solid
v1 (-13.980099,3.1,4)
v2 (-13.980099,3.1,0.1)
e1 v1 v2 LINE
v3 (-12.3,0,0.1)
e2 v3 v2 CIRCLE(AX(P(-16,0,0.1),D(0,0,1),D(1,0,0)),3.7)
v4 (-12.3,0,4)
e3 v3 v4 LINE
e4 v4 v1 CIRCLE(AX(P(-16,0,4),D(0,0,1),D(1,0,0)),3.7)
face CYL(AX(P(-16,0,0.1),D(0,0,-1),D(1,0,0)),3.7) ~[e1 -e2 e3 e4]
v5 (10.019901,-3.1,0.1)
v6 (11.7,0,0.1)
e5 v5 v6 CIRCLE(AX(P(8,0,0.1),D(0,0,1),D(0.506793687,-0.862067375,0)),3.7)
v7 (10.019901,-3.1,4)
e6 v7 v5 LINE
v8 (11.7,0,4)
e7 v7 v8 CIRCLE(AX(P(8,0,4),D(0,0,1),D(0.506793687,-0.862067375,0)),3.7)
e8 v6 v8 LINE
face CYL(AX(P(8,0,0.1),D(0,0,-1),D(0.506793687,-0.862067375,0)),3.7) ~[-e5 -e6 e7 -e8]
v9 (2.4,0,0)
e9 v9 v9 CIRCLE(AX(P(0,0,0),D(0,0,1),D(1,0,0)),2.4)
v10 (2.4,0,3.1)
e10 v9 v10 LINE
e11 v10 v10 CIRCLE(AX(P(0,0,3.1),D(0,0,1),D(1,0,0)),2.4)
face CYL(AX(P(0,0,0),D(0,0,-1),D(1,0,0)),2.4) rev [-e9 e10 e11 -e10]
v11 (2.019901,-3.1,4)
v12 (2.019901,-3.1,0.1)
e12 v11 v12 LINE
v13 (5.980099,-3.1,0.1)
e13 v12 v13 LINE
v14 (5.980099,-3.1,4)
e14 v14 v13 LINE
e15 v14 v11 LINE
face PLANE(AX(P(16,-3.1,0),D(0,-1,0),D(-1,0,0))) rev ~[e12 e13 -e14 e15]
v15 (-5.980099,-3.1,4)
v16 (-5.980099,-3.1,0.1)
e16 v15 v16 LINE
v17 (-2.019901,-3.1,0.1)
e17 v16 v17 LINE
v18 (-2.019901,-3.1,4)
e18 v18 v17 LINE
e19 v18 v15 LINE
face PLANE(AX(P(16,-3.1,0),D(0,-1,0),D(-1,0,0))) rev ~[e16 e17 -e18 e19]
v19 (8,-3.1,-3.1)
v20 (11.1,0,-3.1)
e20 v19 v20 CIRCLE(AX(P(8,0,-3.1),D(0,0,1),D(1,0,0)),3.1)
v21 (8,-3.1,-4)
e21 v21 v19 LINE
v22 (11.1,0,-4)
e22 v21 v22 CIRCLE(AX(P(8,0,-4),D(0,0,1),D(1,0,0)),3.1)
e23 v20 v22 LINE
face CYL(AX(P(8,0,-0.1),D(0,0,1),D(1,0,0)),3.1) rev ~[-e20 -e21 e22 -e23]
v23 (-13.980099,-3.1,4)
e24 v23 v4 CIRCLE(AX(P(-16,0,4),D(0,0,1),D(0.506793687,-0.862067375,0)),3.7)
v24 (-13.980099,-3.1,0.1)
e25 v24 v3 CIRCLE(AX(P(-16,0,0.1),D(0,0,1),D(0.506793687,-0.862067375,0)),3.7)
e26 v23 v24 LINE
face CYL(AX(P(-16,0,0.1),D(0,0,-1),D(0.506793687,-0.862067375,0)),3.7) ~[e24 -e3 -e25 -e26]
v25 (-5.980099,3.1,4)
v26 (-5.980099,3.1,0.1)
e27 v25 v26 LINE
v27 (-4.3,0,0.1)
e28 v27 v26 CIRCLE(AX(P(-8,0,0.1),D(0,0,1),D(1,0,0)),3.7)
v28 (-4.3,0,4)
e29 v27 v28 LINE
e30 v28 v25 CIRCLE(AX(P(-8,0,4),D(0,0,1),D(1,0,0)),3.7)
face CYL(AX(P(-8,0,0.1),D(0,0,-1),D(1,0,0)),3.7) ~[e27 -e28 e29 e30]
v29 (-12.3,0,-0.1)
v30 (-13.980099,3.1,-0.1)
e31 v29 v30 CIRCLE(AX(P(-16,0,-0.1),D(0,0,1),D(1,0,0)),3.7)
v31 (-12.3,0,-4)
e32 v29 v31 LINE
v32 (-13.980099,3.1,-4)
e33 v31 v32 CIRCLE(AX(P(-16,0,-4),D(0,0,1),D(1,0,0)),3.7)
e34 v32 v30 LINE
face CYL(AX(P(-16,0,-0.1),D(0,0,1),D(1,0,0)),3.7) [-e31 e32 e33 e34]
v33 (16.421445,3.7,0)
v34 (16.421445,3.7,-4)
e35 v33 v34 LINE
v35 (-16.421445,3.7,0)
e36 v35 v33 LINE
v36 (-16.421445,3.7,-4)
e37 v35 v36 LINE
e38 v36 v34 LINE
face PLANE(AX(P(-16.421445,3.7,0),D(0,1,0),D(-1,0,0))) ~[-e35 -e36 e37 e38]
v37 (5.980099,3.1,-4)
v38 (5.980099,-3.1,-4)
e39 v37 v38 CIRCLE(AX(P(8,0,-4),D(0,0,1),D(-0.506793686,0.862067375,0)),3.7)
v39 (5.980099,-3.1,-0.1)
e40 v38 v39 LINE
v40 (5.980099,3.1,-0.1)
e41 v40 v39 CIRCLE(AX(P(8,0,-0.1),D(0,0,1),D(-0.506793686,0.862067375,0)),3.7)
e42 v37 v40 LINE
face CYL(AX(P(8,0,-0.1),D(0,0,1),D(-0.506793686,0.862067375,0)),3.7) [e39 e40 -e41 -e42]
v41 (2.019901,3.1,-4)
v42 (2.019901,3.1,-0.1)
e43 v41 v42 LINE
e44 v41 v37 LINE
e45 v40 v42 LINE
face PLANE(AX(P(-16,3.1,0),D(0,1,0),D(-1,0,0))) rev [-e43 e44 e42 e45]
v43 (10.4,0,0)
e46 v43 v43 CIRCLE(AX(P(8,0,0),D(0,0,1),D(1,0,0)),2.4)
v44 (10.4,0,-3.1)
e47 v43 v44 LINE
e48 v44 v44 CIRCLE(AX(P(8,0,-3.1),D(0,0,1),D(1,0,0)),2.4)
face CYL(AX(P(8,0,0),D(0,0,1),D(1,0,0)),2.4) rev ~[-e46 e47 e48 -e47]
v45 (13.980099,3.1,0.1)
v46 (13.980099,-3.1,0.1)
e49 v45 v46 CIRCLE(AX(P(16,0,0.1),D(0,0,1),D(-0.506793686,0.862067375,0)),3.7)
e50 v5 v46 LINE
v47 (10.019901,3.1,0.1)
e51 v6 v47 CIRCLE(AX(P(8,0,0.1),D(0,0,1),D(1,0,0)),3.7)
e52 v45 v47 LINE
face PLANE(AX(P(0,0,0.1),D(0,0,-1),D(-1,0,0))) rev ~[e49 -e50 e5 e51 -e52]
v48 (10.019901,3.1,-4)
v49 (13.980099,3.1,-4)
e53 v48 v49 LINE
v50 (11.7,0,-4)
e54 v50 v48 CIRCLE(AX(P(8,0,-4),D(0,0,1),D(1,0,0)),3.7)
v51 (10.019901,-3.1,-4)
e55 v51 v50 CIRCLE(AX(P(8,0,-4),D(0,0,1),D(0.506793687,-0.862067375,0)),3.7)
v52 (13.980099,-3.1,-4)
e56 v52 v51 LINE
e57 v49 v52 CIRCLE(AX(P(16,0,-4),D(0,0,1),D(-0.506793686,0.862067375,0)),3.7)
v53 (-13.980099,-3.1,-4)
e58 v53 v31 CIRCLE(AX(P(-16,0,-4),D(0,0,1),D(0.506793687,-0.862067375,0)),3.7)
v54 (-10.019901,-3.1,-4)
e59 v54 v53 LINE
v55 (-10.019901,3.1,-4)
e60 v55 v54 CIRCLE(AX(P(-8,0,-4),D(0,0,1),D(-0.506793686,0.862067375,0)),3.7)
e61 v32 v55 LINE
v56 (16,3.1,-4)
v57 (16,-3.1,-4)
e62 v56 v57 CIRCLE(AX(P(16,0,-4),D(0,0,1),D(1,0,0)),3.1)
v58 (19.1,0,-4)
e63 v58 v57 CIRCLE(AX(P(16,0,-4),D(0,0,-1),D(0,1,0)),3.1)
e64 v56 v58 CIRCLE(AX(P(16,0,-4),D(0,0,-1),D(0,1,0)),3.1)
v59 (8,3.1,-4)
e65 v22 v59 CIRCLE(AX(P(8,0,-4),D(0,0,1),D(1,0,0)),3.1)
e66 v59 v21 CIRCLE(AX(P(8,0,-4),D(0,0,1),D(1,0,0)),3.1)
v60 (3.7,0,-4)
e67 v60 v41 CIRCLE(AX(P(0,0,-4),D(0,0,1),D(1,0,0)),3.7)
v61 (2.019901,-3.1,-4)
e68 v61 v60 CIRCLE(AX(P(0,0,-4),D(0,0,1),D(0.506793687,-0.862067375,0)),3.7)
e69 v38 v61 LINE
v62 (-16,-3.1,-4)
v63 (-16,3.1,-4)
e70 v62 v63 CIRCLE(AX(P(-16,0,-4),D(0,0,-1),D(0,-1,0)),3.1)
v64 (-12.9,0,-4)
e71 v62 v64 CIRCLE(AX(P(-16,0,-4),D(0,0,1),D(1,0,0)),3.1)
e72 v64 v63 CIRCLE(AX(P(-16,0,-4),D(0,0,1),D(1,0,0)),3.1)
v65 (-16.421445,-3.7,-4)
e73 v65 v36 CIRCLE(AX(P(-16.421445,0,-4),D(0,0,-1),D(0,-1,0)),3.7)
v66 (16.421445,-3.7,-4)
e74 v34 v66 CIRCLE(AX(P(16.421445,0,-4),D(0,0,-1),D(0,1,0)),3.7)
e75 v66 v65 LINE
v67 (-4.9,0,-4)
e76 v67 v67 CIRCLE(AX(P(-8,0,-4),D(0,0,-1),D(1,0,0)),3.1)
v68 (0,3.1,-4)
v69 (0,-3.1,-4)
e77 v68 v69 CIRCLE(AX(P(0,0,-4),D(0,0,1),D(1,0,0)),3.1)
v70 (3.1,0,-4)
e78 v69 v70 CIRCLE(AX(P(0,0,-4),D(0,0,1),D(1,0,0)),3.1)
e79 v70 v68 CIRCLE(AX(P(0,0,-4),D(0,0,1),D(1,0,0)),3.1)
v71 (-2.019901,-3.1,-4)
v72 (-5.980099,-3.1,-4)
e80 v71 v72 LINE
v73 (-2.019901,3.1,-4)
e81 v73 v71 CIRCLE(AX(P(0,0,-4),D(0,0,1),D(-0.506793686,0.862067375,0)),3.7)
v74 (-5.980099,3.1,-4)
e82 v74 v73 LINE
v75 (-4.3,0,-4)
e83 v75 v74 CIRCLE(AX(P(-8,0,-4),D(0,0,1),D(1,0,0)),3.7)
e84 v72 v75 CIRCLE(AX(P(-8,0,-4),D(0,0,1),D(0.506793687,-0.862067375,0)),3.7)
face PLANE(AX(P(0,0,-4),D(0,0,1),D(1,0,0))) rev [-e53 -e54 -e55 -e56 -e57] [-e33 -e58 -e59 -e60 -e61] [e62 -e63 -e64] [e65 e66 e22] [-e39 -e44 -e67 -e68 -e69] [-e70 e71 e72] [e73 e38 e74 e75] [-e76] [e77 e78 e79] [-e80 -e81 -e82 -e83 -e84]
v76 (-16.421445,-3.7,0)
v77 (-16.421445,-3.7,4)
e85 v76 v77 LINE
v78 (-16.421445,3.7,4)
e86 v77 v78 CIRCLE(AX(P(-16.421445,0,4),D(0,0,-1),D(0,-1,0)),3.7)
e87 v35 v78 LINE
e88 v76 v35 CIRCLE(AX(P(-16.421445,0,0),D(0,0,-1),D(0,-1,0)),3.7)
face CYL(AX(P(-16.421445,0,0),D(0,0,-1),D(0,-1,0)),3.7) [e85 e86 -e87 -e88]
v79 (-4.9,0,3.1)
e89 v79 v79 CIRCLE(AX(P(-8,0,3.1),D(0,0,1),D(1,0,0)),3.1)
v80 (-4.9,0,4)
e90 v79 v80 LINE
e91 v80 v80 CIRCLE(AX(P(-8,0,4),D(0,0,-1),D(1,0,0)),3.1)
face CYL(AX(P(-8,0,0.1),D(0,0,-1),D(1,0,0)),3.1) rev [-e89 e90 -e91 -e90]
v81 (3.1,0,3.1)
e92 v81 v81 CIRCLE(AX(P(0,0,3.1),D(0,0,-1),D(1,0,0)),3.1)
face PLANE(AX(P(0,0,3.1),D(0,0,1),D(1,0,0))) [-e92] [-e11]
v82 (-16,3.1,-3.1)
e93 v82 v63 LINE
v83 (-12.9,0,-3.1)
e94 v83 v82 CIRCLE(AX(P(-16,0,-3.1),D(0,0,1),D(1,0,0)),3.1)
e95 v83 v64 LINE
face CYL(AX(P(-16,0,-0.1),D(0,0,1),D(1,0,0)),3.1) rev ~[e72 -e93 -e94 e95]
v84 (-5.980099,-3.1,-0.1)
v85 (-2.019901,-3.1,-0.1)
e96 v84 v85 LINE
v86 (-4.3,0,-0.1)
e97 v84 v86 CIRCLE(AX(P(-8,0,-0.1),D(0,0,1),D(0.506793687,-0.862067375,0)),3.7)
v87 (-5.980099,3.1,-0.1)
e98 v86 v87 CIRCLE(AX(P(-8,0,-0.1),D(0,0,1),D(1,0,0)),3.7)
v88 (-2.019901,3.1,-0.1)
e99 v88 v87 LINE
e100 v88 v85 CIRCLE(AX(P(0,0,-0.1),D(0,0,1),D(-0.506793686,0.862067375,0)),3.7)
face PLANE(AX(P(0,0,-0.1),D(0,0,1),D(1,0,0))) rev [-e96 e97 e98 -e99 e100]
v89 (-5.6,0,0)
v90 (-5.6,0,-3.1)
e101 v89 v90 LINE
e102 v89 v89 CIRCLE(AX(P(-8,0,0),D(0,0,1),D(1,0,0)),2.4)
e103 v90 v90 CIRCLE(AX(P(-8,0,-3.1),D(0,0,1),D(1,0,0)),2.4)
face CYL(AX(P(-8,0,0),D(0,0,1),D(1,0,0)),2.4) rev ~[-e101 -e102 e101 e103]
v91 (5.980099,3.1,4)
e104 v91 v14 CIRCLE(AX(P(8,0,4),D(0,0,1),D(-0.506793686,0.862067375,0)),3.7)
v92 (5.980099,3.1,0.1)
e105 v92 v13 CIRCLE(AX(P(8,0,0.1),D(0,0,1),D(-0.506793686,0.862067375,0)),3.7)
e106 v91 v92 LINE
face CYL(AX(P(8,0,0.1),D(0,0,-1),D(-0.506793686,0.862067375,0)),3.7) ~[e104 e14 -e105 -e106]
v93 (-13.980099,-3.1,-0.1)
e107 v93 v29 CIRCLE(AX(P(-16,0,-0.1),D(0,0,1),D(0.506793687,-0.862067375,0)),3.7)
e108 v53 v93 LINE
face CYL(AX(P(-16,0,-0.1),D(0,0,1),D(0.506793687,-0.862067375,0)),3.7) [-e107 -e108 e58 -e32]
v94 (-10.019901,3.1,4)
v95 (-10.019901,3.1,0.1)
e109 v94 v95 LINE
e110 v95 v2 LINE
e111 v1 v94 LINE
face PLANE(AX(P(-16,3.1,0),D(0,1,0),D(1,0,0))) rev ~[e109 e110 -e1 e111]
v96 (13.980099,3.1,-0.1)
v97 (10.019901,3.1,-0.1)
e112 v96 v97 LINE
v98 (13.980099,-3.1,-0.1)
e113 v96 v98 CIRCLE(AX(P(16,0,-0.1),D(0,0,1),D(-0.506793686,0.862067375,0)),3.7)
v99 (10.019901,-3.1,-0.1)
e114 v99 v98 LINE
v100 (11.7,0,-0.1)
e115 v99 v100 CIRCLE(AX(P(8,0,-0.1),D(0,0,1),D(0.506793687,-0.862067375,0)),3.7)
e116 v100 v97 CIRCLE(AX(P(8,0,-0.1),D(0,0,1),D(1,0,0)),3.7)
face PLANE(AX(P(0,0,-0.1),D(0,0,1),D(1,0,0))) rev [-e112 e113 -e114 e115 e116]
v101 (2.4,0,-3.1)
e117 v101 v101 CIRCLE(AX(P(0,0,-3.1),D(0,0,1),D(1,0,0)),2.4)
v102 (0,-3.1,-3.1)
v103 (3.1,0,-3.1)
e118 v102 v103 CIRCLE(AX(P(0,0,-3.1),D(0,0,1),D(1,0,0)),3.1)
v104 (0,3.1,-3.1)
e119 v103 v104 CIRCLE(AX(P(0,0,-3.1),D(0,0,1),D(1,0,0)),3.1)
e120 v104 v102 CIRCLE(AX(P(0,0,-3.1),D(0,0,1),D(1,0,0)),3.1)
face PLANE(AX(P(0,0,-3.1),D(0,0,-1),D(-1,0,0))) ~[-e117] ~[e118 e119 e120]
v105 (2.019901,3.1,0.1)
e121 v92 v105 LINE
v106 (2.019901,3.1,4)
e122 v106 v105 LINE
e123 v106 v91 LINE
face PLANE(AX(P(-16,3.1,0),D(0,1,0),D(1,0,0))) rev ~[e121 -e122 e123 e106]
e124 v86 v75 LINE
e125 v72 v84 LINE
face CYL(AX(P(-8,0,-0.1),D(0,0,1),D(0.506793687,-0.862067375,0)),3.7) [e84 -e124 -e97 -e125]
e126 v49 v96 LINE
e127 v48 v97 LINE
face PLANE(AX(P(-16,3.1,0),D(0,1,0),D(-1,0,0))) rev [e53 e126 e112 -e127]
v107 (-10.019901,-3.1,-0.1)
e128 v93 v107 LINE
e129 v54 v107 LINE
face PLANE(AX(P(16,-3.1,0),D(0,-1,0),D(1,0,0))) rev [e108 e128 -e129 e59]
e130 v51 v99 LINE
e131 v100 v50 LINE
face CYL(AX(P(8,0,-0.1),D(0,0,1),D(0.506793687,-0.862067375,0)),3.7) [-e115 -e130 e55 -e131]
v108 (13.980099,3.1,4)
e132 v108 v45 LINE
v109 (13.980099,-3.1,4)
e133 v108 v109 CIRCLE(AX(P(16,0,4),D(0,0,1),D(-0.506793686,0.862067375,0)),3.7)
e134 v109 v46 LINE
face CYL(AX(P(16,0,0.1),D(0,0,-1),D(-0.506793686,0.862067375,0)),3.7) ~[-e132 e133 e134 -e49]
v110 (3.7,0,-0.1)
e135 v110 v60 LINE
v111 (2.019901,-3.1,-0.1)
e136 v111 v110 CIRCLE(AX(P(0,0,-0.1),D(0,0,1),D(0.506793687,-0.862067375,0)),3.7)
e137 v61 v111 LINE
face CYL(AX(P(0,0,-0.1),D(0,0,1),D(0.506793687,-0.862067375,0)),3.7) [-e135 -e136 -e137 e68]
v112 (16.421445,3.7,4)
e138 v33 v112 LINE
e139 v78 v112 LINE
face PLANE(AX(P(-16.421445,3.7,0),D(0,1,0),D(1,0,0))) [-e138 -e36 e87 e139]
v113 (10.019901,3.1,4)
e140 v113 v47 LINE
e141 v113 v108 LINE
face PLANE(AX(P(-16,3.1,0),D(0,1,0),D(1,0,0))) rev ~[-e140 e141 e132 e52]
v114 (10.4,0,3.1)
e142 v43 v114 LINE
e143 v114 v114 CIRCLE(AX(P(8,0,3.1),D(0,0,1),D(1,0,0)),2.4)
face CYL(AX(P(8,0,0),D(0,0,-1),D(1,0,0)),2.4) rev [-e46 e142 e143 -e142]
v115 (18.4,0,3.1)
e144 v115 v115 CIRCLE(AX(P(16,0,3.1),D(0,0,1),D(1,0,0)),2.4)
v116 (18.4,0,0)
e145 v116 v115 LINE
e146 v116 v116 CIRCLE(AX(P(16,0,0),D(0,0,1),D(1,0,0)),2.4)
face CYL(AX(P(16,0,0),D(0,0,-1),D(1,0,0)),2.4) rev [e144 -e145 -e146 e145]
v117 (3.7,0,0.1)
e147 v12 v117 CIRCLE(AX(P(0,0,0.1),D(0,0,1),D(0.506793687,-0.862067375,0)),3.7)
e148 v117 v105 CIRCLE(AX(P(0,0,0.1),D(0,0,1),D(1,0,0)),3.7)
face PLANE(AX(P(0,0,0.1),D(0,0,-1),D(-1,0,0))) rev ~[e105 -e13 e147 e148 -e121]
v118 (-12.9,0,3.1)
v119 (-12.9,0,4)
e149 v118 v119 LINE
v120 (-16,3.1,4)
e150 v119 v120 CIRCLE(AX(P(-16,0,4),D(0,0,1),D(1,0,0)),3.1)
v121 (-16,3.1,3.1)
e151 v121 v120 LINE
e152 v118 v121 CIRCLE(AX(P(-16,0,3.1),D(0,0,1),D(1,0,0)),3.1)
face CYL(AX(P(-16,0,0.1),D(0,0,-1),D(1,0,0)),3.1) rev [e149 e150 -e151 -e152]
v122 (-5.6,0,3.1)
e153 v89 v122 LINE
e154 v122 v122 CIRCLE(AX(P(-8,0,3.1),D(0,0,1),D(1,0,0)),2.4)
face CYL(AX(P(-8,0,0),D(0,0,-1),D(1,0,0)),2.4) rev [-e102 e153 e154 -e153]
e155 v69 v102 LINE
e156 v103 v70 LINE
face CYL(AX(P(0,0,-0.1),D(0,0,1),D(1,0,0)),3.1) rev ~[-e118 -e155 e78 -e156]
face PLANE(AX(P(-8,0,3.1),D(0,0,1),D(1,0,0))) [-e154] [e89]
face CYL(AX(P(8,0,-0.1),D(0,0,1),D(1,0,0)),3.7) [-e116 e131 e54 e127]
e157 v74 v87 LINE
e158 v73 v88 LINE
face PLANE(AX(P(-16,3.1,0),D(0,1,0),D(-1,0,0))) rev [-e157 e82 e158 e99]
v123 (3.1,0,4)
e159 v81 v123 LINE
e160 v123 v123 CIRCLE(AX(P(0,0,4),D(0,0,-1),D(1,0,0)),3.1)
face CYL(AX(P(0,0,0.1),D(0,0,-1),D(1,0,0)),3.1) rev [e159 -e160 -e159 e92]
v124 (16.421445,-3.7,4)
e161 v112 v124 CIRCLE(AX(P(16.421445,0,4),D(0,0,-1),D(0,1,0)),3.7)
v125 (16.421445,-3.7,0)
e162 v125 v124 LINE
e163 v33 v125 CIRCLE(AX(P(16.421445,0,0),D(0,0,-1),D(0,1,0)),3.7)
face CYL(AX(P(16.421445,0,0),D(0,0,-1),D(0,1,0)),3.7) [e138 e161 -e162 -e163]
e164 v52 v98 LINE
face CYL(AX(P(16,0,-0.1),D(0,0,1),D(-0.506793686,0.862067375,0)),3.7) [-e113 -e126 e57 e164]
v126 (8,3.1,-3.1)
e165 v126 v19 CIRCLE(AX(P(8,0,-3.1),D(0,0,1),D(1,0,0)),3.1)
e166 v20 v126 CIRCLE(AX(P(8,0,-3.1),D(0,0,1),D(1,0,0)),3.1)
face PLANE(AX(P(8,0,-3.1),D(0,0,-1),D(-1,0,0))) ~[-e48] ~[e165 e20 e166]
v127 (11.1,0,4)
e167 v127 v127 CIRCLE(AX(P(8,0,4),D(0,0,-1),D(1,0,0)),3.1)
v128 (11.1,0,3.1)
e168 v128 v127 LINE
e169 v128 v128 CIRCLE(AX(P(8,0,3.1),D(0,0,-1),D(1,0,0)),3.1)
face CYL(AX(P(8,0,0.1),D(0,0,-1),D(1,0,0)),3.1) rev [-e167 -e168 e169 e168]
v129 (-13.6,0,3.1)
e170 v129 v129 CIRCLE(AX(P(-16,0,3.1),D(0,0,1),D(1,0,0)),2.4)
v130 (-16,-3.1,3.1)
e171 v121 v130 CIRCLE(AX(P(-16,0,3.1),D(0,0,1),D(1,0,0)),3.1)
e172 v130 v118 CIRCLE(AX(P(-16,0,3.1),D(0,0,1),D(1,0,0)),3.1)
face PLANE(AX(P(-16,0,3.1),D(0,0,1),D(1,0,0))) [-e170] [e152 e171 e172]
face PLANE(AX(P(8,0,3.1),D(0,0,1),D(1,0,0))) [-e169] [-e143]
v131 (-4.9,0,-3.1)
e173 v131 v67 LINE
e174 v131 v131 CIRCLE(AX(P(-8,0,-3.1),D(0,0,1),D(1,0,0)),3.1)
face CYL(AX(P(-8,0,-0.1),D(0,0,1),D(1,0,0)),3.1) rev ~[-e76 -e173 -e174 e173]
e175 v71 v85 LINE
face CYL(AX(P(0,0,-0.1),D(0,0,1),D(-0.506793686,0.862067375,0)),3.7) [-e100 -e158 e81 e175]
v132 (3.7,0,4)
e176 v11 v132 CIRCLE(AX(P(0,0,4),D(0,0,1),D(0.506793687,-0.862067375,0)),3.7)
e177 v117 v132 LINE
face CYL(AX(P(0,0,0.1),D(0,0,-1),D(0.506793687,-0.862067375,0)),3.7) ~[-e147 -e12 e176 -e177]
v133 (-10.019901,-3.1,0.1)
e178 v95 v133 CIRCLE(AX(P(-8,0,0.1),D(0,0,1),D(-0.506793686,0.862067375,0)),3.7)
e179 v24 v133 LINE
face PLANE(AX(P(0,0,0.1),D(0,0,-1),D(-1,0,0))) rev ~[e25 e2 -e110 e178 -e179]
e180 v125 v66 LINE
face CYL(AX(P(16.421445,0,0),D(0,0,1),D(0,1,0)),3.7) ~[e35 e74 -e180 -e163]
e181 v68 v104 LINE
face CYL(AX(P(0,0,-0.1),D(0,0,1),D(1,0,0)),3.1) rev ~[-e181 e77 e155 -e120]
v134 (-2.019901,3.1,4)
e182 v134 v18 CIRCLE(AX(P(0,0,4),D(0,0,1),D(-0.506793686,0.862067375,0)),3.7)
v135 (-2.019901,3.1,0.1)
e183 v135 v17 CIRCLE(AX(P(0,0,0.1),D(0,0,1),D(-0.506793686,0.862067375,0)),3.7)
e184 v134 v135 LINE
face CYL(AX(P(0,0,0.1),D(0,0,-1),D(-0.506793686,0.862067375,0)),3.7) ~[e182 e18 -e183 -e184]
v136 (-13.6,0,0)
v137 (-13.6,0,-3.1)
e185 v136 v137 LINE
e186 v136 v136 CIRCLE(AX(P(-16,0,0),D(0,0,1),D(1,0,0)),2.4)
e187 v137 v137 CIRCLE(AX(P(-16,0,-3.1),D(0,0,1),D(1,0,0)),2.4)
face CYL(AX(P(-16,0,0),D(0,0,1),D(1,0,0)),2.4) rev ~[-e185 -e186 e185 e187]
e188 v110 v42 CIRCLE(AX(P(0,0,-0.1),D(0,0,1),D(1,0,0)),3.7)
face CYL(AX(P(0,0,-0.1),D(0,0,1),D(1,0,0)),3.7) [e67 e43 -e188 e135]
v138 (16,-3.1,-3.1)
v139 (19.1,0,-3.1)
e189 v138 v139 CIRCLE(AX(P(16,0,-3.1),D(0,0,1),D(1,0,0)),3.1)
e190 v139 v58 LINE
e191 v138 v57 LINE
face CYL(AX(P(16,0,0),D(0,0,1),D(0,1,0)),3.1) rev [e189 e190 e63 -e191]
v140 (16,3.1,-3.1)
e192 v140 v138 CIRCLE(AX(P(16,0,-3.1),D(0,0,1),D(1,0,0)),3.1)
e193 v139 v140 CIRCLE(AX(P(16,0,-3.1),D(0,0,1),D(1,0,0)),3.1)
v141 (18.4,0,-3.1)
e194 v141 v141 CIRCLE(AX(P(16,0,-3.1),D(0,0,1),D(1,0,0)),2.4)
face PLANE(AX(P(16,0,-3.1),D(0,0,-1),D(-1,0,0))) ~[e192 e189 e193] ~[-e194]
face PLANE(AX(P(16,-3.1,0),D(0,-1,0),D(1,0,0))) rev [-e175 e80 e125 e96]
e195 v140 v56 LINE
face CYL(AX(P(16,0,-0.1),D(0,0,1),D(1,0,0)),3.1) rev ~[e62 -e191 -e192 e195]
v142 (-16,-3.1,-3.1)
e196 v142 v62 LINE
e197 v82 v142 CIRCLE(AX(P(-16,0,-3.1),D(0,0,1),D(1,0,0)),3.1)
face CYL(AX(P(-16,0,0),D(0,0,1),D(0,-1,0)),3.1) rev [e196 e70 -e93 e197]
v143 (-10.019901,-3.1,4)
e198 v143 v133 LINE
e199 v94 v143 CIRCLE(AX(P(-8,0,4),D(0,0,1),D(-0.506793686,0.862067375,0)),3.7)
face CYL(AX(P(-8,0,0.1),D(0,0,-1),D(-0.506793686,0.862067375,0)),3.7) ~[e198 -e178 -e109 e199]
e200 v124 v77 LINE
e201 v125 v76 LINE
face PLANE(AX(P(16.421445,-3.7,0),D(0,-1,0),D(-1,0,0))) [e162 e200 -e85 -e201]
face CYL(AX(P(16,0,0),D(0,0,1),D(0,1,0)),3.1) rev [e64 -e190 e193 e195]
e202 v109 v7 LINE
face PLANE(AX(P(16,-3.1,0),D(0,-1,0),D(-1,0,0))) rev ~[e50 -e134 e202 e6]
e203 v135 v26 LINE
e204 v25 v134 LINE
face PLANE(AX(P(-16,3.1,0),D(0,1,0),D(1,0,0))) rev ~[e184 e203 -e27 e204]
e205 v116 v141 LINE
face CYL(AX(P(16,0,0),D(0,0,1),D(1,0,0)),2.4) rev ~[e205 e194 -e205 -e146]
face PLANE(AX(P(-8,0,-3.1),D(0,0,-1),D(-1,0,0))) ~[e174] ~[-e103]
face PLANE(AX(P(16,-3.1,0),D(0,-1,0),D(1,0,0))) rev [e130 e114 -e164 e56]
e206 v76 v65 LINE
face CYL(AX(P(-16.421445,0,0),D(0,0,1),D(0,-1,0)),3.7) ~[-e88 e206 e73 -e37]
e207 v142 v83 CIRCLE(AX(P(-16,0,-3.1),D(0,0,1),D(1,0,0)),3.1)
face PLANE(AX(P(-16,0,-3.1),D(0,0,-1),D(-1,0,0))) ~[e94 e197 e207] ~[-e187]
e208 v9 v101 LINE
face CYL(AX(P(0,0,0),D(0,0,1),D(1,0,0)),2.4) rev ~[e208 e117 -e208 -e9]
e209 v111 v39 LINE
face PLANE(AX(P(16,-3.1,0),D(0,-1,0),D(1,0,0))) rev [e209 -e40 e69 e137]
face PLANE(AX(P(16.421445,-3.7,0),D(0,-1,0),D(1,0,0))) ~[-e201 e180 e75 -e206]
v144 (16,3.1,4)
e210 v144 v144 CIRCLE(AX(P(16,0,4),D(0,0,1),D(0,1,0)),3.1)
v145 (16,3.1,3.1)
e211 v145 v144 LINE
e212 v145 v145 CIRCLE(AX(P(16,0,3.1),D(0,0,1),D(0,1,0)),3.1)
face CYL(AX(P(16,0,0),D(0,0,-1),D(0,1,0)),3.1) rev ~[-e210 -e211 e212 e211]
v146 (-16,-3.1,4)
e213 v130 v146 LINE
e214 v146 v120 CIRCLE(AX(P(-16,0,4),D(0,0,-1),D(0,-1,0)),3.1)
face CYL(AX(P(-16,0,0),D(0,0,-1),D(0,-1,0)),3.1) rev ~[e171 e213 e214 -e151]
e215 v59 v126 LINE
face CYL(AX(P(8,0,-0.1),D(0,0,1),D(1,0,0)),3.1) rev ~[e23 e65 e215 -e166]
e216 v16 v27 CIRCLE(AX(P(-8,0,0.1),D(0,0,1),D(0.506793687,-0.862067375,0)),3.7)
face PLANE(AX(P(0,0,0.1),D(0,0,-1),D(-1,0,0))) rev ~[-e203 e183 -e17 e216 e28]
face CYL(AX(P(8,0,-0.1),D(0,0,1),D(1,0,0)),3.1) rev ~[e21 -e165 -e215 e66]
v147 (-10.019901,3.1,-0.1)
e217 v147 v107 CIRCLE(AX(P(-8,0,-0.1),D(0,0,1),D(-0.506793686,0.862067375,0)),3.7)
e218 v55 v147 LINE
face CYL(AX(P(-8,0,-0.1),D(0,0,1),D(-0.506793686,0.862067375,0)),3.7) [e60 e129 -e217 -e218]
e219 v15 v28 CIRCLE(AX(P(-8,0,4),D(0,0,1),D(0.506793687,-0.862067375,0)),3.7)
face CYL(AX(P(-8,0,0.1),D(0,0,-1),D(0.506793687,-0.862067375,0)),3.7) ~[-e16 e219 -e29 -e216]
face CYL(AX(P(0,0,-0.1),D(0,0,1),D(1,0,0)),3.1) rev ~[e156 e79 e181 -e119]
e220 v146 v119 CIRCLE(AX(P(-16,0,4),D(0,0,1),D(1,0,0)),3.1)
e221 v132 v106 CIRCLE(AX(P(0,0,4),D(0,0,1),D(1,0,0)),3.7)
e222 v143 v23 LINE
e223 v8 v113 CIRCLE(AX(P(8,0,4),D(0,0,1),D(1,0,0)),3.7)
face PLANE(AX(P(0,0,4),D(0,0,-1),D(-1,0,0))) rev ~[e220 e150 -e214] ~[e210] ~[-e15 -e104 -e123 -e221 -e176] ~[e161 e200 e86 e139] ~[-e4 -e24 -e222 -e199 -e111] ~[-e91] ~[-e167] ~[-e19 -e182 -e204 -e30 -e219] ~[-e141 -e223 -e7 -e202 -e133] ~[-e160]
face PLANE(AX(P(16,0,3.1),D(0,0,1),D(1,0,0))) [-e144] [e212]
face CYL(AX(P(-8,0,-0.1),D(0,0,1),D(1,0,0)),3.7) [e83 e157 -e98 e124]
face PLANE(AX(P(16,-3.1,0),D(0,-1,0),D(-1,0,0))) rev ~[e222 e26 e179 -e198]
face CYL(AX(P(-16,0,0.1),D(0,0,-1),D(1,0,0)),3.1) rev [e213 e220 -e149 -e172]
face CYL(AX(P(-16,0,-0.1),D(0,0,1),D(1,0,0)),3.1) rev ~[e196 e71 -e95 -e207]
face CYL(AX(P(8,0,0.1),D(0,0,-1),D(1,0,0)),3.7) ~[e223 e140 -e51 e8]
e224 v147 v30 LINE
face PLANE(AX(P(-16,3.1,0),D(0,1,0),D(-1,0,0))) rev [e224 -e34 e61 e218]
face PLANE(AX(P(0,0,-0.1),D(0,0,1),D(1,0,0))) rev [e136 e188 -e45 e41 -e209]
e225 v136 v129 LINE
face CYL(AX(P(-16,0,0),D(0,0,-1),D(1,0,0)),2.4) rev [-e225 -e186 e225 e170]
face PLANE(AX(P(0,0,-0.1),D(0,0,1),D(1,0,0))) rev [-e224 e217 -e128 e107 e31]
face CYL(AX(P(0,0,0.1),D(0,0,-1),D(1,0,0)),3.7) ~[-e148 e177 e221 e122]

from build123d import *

# Parameters (mm, degrees)
OUTER_SHAPE_DEPTH  = 4
MIDDLE_WALL_DEPTH  = 0.1
HOLES_R            = 3.1
OUTER_HOLE_DEPTH   = 3.9
SKETCH3_R          = 3.1
SKETCH3_R_2        = 2.4
INNER_HOLE_DEPTH   = 3.1
SKETCH4_R          = 2.4
THROUGH_HOLE_DEPTH = 5


with BuildPart() as part:
    # Sketch1 → Outer Shape (new body)
    with BuildSketch(Plane.XY):
        with BuildLine():
            Line((-16.421445021, 3.7), (16.421445021, 3.7))
            ThreePointArc((16.421445021, 3.7), (20.121445021, 0), (16.421445021, -3.7))
            Line((16.421445021, -3.7), (-16.421445021, -3.7))
            ThreePointArc((-16.421445021, -3.7), (-20.121445021, 0), (-16.421445021, 3.7))
        make_face()
        with BuildLine():
            Line((-16, 3.1), (16, 3.1))
            ThreePointArc((16, 3.1), (19.1, 0), (16, -3.1))
            Line((16, -3.1), (-16, -3.1))
            ThreePointArc((-16, -3.1), (-19.1, 0), (-16, 3.1))
        make_face(mode=Mode.SUBTRACT)
    extrude(amount=OUTER_SHAPE_DEPTH)



with BuildPart() as body_2:
    # Sketch2 → Middle wall (new body)
    with BuildSketch(Plane.XY):
        with BuildLine():
            Line((-15.918927506, 3.189649288), (15.918927506, 3.189649288))
            ThreePointArc((15.918927506, 3.189649288), (19.108576794, 0), (15.918927506, -3.189649288))
            Line((15.918927506, -3.189649288), (-15.918927506, -3.189649288))
            ThreePointArc((-15.918927506, -3.189649288), (-19.108576794, 0), (-15.918927506, 3.189649288))
        make_face()
    extrude(amount=MIDDLE_WALL_DEPTH)


with BuildPart() as part_1:
    add(part.part)

    add(body_2.part)  # Outer Hole merges body 2
    # Holes → Outer Hole (add)
    with BuildSketch(Plane.XY.offset(0.1)):
        with BuildLine():
            Line((-6.12486336, 3.189649288), (-9.87513664, 3.189649288))
            ThreePointArc((-9.87513664, 3.189649288), (-11.7, 0), (-9.87513664, -3.189649288))
            Line((-9.87513664, -3.189649288), (-6.12486336, -3.189649288))
            ThreePointArc((-6.12486336, -3.189649288), (-4.788457881, -1.837388695), (-4.3, 0))
            ThreePointArc((-4.3, 0), (-4.788457881, 1.837388695), (-6.12486336, 3.189649288))
        make_face()
        with Locations((-8, 0)):
            Circle(HOLES_R, mode=Mode.SUBTRACT)
        with BuildLine():
            ThreePointArc((-14.12486336, -3.189649288), (-12.788457881, -1.837388695), (-12.3, 0))
            ThreePointArc((-12.3, 0), (-12.788457881, 1.837388695), (-14.12486336, 3.189649288))
            Line((-14.12486336, 3.189649288), (-15.918927506, 3.189649288))
            ThreePointArc((-15.918927506, 3.189649288), (-19.108576794, 0), (-15.918927506, -3.189649288))
            Line((-15.918927506, -3.189649288), (-14.12486336, -3.189649288))
        make_face()
        with Locations((-16, 0)):
            Circle(HOLES_R, mode=Mode.SUBTRACT)
        with BuildLine():
            Line((1.87513664, 3.189649288), (-1.87513664, 3.189649288))
            ThreePointArc((-1.87513664, 3.189649288), (-3.7, 0), (-1.87513664, -3.189649288))
            Line((-1.87513664, -3.189649288), (1.87513664, -3.189649288))
            ThreePointArc((1.87513664, -3.189649288), (3.211542119, -1.837388695), (3.7, 0))
            ThreePointArc((3.7, 0), (3.211542119, 1.837388695), (1.87513664, 3.189649288))
        make_face()
        Circle(HOLES_R, mode=Mode.SUBTRACT)
        with BuildLine():
            Line((9.87513664, 3.189649288), (6.12486336, 3.189649288))
            ThreePointArc((6.12486336, 3.189649288), (4.3, 0), (6.12486336, -3.189649288))
            Line((6.12486336, -3.189649288), (9.87513664, -3.189649288))
            ThreePointArc((9.87513664, -3.189649288), (11.211542119, -1.837388695), (11.7, 0))
            ThreePointArc((11.7, 0), (11.211542119, 1.837388695), (9.87513664, 3.189649288))
        make_face()
        with Locations((8, 0)):
            Circle(HOLES_R, mode=Mode.SUBTRACT)
        with BuildLine():
            Line((15.918927506, 3.189649288), (14.12486336, 3.189649288))
            ThreePointArc((14.12486336, 3.189649288), (12.3, 0), (14.12486336, -3.189649288))
            Line((14.12486336, -3.189649288), (15.918927506, -3.189649288))
            ThreePointArc((15.918927506, -3.189649288), (19.108576794, 0), (15.918927506, 3.189649288))
        make_face()
        with Locations((16, 0)):
            Circle(HOLES_R, mode=Mode.SUBTRACT)
    extrude(amount=OUTER_HOLE_DEPTH)

    # Sketch3 → Inner Hole (add)
    with BuildSketch(Plane.XY):
        with Locations((-16, 0)):
            Circle(SKETCH3_R)
        with Locations((-16, 0)):
            Circle(SKETCH3_R_2, mode=Mode.SUBTRACT)
        with Locations((-8, 0)):
            Circle(SKETCH3_R)
        with Locations((-8, 0)):
            Circle(SKETCH3_R_2, mode=Mode.SUBTRACT)
        Circle(SKETCH3_R)
        Circle(SKETCH3_R_2, mode=Mode.SUBTRACT)
        with Locations((8, 0)):
            Circle(SKETCH3_R)
        with Locations((8, 0)):
            Circle(SKETCH3_R_2, mode=Mode.SUBTRACT)
        with Locations((16, 0)):
            Circle(SKETCH3_R)
        with Locations((16, 0)):
            Circle(SKETCH3_R_2, mode=Mode.SUBTRACT)
    extrude(amount=INNER_HOLE_DEPTH)

    # Sketch4 → Through Hole (cut, through all)
    with BuildSketch(Plane.XY):
        with Locations((-16, 0)):
            Circle(SKETCH4_R)
        with Locations((-8, 0)):
            Circle(SKETCH4_R)
        Circle(SKETCH4_R)
        with Locations((8, 0)):
            Circle(SKETCH4_R)
        with Locations((16, 0)):
            Circle(SKETCH4_R)
    extrude(amount=THROUGH_HOLE_DEPTH, mode=Mode.SUBTRACT)

    # Mirror1: part across face


with BuildPart() as part_2:
    add(part_1.part)
    add(part_1.part.mirror(Plane(origin=(0, 0, 0), x_dir=(1, 0, 0), z_dir=(0, 0, -1))))


solid = part_2.part
